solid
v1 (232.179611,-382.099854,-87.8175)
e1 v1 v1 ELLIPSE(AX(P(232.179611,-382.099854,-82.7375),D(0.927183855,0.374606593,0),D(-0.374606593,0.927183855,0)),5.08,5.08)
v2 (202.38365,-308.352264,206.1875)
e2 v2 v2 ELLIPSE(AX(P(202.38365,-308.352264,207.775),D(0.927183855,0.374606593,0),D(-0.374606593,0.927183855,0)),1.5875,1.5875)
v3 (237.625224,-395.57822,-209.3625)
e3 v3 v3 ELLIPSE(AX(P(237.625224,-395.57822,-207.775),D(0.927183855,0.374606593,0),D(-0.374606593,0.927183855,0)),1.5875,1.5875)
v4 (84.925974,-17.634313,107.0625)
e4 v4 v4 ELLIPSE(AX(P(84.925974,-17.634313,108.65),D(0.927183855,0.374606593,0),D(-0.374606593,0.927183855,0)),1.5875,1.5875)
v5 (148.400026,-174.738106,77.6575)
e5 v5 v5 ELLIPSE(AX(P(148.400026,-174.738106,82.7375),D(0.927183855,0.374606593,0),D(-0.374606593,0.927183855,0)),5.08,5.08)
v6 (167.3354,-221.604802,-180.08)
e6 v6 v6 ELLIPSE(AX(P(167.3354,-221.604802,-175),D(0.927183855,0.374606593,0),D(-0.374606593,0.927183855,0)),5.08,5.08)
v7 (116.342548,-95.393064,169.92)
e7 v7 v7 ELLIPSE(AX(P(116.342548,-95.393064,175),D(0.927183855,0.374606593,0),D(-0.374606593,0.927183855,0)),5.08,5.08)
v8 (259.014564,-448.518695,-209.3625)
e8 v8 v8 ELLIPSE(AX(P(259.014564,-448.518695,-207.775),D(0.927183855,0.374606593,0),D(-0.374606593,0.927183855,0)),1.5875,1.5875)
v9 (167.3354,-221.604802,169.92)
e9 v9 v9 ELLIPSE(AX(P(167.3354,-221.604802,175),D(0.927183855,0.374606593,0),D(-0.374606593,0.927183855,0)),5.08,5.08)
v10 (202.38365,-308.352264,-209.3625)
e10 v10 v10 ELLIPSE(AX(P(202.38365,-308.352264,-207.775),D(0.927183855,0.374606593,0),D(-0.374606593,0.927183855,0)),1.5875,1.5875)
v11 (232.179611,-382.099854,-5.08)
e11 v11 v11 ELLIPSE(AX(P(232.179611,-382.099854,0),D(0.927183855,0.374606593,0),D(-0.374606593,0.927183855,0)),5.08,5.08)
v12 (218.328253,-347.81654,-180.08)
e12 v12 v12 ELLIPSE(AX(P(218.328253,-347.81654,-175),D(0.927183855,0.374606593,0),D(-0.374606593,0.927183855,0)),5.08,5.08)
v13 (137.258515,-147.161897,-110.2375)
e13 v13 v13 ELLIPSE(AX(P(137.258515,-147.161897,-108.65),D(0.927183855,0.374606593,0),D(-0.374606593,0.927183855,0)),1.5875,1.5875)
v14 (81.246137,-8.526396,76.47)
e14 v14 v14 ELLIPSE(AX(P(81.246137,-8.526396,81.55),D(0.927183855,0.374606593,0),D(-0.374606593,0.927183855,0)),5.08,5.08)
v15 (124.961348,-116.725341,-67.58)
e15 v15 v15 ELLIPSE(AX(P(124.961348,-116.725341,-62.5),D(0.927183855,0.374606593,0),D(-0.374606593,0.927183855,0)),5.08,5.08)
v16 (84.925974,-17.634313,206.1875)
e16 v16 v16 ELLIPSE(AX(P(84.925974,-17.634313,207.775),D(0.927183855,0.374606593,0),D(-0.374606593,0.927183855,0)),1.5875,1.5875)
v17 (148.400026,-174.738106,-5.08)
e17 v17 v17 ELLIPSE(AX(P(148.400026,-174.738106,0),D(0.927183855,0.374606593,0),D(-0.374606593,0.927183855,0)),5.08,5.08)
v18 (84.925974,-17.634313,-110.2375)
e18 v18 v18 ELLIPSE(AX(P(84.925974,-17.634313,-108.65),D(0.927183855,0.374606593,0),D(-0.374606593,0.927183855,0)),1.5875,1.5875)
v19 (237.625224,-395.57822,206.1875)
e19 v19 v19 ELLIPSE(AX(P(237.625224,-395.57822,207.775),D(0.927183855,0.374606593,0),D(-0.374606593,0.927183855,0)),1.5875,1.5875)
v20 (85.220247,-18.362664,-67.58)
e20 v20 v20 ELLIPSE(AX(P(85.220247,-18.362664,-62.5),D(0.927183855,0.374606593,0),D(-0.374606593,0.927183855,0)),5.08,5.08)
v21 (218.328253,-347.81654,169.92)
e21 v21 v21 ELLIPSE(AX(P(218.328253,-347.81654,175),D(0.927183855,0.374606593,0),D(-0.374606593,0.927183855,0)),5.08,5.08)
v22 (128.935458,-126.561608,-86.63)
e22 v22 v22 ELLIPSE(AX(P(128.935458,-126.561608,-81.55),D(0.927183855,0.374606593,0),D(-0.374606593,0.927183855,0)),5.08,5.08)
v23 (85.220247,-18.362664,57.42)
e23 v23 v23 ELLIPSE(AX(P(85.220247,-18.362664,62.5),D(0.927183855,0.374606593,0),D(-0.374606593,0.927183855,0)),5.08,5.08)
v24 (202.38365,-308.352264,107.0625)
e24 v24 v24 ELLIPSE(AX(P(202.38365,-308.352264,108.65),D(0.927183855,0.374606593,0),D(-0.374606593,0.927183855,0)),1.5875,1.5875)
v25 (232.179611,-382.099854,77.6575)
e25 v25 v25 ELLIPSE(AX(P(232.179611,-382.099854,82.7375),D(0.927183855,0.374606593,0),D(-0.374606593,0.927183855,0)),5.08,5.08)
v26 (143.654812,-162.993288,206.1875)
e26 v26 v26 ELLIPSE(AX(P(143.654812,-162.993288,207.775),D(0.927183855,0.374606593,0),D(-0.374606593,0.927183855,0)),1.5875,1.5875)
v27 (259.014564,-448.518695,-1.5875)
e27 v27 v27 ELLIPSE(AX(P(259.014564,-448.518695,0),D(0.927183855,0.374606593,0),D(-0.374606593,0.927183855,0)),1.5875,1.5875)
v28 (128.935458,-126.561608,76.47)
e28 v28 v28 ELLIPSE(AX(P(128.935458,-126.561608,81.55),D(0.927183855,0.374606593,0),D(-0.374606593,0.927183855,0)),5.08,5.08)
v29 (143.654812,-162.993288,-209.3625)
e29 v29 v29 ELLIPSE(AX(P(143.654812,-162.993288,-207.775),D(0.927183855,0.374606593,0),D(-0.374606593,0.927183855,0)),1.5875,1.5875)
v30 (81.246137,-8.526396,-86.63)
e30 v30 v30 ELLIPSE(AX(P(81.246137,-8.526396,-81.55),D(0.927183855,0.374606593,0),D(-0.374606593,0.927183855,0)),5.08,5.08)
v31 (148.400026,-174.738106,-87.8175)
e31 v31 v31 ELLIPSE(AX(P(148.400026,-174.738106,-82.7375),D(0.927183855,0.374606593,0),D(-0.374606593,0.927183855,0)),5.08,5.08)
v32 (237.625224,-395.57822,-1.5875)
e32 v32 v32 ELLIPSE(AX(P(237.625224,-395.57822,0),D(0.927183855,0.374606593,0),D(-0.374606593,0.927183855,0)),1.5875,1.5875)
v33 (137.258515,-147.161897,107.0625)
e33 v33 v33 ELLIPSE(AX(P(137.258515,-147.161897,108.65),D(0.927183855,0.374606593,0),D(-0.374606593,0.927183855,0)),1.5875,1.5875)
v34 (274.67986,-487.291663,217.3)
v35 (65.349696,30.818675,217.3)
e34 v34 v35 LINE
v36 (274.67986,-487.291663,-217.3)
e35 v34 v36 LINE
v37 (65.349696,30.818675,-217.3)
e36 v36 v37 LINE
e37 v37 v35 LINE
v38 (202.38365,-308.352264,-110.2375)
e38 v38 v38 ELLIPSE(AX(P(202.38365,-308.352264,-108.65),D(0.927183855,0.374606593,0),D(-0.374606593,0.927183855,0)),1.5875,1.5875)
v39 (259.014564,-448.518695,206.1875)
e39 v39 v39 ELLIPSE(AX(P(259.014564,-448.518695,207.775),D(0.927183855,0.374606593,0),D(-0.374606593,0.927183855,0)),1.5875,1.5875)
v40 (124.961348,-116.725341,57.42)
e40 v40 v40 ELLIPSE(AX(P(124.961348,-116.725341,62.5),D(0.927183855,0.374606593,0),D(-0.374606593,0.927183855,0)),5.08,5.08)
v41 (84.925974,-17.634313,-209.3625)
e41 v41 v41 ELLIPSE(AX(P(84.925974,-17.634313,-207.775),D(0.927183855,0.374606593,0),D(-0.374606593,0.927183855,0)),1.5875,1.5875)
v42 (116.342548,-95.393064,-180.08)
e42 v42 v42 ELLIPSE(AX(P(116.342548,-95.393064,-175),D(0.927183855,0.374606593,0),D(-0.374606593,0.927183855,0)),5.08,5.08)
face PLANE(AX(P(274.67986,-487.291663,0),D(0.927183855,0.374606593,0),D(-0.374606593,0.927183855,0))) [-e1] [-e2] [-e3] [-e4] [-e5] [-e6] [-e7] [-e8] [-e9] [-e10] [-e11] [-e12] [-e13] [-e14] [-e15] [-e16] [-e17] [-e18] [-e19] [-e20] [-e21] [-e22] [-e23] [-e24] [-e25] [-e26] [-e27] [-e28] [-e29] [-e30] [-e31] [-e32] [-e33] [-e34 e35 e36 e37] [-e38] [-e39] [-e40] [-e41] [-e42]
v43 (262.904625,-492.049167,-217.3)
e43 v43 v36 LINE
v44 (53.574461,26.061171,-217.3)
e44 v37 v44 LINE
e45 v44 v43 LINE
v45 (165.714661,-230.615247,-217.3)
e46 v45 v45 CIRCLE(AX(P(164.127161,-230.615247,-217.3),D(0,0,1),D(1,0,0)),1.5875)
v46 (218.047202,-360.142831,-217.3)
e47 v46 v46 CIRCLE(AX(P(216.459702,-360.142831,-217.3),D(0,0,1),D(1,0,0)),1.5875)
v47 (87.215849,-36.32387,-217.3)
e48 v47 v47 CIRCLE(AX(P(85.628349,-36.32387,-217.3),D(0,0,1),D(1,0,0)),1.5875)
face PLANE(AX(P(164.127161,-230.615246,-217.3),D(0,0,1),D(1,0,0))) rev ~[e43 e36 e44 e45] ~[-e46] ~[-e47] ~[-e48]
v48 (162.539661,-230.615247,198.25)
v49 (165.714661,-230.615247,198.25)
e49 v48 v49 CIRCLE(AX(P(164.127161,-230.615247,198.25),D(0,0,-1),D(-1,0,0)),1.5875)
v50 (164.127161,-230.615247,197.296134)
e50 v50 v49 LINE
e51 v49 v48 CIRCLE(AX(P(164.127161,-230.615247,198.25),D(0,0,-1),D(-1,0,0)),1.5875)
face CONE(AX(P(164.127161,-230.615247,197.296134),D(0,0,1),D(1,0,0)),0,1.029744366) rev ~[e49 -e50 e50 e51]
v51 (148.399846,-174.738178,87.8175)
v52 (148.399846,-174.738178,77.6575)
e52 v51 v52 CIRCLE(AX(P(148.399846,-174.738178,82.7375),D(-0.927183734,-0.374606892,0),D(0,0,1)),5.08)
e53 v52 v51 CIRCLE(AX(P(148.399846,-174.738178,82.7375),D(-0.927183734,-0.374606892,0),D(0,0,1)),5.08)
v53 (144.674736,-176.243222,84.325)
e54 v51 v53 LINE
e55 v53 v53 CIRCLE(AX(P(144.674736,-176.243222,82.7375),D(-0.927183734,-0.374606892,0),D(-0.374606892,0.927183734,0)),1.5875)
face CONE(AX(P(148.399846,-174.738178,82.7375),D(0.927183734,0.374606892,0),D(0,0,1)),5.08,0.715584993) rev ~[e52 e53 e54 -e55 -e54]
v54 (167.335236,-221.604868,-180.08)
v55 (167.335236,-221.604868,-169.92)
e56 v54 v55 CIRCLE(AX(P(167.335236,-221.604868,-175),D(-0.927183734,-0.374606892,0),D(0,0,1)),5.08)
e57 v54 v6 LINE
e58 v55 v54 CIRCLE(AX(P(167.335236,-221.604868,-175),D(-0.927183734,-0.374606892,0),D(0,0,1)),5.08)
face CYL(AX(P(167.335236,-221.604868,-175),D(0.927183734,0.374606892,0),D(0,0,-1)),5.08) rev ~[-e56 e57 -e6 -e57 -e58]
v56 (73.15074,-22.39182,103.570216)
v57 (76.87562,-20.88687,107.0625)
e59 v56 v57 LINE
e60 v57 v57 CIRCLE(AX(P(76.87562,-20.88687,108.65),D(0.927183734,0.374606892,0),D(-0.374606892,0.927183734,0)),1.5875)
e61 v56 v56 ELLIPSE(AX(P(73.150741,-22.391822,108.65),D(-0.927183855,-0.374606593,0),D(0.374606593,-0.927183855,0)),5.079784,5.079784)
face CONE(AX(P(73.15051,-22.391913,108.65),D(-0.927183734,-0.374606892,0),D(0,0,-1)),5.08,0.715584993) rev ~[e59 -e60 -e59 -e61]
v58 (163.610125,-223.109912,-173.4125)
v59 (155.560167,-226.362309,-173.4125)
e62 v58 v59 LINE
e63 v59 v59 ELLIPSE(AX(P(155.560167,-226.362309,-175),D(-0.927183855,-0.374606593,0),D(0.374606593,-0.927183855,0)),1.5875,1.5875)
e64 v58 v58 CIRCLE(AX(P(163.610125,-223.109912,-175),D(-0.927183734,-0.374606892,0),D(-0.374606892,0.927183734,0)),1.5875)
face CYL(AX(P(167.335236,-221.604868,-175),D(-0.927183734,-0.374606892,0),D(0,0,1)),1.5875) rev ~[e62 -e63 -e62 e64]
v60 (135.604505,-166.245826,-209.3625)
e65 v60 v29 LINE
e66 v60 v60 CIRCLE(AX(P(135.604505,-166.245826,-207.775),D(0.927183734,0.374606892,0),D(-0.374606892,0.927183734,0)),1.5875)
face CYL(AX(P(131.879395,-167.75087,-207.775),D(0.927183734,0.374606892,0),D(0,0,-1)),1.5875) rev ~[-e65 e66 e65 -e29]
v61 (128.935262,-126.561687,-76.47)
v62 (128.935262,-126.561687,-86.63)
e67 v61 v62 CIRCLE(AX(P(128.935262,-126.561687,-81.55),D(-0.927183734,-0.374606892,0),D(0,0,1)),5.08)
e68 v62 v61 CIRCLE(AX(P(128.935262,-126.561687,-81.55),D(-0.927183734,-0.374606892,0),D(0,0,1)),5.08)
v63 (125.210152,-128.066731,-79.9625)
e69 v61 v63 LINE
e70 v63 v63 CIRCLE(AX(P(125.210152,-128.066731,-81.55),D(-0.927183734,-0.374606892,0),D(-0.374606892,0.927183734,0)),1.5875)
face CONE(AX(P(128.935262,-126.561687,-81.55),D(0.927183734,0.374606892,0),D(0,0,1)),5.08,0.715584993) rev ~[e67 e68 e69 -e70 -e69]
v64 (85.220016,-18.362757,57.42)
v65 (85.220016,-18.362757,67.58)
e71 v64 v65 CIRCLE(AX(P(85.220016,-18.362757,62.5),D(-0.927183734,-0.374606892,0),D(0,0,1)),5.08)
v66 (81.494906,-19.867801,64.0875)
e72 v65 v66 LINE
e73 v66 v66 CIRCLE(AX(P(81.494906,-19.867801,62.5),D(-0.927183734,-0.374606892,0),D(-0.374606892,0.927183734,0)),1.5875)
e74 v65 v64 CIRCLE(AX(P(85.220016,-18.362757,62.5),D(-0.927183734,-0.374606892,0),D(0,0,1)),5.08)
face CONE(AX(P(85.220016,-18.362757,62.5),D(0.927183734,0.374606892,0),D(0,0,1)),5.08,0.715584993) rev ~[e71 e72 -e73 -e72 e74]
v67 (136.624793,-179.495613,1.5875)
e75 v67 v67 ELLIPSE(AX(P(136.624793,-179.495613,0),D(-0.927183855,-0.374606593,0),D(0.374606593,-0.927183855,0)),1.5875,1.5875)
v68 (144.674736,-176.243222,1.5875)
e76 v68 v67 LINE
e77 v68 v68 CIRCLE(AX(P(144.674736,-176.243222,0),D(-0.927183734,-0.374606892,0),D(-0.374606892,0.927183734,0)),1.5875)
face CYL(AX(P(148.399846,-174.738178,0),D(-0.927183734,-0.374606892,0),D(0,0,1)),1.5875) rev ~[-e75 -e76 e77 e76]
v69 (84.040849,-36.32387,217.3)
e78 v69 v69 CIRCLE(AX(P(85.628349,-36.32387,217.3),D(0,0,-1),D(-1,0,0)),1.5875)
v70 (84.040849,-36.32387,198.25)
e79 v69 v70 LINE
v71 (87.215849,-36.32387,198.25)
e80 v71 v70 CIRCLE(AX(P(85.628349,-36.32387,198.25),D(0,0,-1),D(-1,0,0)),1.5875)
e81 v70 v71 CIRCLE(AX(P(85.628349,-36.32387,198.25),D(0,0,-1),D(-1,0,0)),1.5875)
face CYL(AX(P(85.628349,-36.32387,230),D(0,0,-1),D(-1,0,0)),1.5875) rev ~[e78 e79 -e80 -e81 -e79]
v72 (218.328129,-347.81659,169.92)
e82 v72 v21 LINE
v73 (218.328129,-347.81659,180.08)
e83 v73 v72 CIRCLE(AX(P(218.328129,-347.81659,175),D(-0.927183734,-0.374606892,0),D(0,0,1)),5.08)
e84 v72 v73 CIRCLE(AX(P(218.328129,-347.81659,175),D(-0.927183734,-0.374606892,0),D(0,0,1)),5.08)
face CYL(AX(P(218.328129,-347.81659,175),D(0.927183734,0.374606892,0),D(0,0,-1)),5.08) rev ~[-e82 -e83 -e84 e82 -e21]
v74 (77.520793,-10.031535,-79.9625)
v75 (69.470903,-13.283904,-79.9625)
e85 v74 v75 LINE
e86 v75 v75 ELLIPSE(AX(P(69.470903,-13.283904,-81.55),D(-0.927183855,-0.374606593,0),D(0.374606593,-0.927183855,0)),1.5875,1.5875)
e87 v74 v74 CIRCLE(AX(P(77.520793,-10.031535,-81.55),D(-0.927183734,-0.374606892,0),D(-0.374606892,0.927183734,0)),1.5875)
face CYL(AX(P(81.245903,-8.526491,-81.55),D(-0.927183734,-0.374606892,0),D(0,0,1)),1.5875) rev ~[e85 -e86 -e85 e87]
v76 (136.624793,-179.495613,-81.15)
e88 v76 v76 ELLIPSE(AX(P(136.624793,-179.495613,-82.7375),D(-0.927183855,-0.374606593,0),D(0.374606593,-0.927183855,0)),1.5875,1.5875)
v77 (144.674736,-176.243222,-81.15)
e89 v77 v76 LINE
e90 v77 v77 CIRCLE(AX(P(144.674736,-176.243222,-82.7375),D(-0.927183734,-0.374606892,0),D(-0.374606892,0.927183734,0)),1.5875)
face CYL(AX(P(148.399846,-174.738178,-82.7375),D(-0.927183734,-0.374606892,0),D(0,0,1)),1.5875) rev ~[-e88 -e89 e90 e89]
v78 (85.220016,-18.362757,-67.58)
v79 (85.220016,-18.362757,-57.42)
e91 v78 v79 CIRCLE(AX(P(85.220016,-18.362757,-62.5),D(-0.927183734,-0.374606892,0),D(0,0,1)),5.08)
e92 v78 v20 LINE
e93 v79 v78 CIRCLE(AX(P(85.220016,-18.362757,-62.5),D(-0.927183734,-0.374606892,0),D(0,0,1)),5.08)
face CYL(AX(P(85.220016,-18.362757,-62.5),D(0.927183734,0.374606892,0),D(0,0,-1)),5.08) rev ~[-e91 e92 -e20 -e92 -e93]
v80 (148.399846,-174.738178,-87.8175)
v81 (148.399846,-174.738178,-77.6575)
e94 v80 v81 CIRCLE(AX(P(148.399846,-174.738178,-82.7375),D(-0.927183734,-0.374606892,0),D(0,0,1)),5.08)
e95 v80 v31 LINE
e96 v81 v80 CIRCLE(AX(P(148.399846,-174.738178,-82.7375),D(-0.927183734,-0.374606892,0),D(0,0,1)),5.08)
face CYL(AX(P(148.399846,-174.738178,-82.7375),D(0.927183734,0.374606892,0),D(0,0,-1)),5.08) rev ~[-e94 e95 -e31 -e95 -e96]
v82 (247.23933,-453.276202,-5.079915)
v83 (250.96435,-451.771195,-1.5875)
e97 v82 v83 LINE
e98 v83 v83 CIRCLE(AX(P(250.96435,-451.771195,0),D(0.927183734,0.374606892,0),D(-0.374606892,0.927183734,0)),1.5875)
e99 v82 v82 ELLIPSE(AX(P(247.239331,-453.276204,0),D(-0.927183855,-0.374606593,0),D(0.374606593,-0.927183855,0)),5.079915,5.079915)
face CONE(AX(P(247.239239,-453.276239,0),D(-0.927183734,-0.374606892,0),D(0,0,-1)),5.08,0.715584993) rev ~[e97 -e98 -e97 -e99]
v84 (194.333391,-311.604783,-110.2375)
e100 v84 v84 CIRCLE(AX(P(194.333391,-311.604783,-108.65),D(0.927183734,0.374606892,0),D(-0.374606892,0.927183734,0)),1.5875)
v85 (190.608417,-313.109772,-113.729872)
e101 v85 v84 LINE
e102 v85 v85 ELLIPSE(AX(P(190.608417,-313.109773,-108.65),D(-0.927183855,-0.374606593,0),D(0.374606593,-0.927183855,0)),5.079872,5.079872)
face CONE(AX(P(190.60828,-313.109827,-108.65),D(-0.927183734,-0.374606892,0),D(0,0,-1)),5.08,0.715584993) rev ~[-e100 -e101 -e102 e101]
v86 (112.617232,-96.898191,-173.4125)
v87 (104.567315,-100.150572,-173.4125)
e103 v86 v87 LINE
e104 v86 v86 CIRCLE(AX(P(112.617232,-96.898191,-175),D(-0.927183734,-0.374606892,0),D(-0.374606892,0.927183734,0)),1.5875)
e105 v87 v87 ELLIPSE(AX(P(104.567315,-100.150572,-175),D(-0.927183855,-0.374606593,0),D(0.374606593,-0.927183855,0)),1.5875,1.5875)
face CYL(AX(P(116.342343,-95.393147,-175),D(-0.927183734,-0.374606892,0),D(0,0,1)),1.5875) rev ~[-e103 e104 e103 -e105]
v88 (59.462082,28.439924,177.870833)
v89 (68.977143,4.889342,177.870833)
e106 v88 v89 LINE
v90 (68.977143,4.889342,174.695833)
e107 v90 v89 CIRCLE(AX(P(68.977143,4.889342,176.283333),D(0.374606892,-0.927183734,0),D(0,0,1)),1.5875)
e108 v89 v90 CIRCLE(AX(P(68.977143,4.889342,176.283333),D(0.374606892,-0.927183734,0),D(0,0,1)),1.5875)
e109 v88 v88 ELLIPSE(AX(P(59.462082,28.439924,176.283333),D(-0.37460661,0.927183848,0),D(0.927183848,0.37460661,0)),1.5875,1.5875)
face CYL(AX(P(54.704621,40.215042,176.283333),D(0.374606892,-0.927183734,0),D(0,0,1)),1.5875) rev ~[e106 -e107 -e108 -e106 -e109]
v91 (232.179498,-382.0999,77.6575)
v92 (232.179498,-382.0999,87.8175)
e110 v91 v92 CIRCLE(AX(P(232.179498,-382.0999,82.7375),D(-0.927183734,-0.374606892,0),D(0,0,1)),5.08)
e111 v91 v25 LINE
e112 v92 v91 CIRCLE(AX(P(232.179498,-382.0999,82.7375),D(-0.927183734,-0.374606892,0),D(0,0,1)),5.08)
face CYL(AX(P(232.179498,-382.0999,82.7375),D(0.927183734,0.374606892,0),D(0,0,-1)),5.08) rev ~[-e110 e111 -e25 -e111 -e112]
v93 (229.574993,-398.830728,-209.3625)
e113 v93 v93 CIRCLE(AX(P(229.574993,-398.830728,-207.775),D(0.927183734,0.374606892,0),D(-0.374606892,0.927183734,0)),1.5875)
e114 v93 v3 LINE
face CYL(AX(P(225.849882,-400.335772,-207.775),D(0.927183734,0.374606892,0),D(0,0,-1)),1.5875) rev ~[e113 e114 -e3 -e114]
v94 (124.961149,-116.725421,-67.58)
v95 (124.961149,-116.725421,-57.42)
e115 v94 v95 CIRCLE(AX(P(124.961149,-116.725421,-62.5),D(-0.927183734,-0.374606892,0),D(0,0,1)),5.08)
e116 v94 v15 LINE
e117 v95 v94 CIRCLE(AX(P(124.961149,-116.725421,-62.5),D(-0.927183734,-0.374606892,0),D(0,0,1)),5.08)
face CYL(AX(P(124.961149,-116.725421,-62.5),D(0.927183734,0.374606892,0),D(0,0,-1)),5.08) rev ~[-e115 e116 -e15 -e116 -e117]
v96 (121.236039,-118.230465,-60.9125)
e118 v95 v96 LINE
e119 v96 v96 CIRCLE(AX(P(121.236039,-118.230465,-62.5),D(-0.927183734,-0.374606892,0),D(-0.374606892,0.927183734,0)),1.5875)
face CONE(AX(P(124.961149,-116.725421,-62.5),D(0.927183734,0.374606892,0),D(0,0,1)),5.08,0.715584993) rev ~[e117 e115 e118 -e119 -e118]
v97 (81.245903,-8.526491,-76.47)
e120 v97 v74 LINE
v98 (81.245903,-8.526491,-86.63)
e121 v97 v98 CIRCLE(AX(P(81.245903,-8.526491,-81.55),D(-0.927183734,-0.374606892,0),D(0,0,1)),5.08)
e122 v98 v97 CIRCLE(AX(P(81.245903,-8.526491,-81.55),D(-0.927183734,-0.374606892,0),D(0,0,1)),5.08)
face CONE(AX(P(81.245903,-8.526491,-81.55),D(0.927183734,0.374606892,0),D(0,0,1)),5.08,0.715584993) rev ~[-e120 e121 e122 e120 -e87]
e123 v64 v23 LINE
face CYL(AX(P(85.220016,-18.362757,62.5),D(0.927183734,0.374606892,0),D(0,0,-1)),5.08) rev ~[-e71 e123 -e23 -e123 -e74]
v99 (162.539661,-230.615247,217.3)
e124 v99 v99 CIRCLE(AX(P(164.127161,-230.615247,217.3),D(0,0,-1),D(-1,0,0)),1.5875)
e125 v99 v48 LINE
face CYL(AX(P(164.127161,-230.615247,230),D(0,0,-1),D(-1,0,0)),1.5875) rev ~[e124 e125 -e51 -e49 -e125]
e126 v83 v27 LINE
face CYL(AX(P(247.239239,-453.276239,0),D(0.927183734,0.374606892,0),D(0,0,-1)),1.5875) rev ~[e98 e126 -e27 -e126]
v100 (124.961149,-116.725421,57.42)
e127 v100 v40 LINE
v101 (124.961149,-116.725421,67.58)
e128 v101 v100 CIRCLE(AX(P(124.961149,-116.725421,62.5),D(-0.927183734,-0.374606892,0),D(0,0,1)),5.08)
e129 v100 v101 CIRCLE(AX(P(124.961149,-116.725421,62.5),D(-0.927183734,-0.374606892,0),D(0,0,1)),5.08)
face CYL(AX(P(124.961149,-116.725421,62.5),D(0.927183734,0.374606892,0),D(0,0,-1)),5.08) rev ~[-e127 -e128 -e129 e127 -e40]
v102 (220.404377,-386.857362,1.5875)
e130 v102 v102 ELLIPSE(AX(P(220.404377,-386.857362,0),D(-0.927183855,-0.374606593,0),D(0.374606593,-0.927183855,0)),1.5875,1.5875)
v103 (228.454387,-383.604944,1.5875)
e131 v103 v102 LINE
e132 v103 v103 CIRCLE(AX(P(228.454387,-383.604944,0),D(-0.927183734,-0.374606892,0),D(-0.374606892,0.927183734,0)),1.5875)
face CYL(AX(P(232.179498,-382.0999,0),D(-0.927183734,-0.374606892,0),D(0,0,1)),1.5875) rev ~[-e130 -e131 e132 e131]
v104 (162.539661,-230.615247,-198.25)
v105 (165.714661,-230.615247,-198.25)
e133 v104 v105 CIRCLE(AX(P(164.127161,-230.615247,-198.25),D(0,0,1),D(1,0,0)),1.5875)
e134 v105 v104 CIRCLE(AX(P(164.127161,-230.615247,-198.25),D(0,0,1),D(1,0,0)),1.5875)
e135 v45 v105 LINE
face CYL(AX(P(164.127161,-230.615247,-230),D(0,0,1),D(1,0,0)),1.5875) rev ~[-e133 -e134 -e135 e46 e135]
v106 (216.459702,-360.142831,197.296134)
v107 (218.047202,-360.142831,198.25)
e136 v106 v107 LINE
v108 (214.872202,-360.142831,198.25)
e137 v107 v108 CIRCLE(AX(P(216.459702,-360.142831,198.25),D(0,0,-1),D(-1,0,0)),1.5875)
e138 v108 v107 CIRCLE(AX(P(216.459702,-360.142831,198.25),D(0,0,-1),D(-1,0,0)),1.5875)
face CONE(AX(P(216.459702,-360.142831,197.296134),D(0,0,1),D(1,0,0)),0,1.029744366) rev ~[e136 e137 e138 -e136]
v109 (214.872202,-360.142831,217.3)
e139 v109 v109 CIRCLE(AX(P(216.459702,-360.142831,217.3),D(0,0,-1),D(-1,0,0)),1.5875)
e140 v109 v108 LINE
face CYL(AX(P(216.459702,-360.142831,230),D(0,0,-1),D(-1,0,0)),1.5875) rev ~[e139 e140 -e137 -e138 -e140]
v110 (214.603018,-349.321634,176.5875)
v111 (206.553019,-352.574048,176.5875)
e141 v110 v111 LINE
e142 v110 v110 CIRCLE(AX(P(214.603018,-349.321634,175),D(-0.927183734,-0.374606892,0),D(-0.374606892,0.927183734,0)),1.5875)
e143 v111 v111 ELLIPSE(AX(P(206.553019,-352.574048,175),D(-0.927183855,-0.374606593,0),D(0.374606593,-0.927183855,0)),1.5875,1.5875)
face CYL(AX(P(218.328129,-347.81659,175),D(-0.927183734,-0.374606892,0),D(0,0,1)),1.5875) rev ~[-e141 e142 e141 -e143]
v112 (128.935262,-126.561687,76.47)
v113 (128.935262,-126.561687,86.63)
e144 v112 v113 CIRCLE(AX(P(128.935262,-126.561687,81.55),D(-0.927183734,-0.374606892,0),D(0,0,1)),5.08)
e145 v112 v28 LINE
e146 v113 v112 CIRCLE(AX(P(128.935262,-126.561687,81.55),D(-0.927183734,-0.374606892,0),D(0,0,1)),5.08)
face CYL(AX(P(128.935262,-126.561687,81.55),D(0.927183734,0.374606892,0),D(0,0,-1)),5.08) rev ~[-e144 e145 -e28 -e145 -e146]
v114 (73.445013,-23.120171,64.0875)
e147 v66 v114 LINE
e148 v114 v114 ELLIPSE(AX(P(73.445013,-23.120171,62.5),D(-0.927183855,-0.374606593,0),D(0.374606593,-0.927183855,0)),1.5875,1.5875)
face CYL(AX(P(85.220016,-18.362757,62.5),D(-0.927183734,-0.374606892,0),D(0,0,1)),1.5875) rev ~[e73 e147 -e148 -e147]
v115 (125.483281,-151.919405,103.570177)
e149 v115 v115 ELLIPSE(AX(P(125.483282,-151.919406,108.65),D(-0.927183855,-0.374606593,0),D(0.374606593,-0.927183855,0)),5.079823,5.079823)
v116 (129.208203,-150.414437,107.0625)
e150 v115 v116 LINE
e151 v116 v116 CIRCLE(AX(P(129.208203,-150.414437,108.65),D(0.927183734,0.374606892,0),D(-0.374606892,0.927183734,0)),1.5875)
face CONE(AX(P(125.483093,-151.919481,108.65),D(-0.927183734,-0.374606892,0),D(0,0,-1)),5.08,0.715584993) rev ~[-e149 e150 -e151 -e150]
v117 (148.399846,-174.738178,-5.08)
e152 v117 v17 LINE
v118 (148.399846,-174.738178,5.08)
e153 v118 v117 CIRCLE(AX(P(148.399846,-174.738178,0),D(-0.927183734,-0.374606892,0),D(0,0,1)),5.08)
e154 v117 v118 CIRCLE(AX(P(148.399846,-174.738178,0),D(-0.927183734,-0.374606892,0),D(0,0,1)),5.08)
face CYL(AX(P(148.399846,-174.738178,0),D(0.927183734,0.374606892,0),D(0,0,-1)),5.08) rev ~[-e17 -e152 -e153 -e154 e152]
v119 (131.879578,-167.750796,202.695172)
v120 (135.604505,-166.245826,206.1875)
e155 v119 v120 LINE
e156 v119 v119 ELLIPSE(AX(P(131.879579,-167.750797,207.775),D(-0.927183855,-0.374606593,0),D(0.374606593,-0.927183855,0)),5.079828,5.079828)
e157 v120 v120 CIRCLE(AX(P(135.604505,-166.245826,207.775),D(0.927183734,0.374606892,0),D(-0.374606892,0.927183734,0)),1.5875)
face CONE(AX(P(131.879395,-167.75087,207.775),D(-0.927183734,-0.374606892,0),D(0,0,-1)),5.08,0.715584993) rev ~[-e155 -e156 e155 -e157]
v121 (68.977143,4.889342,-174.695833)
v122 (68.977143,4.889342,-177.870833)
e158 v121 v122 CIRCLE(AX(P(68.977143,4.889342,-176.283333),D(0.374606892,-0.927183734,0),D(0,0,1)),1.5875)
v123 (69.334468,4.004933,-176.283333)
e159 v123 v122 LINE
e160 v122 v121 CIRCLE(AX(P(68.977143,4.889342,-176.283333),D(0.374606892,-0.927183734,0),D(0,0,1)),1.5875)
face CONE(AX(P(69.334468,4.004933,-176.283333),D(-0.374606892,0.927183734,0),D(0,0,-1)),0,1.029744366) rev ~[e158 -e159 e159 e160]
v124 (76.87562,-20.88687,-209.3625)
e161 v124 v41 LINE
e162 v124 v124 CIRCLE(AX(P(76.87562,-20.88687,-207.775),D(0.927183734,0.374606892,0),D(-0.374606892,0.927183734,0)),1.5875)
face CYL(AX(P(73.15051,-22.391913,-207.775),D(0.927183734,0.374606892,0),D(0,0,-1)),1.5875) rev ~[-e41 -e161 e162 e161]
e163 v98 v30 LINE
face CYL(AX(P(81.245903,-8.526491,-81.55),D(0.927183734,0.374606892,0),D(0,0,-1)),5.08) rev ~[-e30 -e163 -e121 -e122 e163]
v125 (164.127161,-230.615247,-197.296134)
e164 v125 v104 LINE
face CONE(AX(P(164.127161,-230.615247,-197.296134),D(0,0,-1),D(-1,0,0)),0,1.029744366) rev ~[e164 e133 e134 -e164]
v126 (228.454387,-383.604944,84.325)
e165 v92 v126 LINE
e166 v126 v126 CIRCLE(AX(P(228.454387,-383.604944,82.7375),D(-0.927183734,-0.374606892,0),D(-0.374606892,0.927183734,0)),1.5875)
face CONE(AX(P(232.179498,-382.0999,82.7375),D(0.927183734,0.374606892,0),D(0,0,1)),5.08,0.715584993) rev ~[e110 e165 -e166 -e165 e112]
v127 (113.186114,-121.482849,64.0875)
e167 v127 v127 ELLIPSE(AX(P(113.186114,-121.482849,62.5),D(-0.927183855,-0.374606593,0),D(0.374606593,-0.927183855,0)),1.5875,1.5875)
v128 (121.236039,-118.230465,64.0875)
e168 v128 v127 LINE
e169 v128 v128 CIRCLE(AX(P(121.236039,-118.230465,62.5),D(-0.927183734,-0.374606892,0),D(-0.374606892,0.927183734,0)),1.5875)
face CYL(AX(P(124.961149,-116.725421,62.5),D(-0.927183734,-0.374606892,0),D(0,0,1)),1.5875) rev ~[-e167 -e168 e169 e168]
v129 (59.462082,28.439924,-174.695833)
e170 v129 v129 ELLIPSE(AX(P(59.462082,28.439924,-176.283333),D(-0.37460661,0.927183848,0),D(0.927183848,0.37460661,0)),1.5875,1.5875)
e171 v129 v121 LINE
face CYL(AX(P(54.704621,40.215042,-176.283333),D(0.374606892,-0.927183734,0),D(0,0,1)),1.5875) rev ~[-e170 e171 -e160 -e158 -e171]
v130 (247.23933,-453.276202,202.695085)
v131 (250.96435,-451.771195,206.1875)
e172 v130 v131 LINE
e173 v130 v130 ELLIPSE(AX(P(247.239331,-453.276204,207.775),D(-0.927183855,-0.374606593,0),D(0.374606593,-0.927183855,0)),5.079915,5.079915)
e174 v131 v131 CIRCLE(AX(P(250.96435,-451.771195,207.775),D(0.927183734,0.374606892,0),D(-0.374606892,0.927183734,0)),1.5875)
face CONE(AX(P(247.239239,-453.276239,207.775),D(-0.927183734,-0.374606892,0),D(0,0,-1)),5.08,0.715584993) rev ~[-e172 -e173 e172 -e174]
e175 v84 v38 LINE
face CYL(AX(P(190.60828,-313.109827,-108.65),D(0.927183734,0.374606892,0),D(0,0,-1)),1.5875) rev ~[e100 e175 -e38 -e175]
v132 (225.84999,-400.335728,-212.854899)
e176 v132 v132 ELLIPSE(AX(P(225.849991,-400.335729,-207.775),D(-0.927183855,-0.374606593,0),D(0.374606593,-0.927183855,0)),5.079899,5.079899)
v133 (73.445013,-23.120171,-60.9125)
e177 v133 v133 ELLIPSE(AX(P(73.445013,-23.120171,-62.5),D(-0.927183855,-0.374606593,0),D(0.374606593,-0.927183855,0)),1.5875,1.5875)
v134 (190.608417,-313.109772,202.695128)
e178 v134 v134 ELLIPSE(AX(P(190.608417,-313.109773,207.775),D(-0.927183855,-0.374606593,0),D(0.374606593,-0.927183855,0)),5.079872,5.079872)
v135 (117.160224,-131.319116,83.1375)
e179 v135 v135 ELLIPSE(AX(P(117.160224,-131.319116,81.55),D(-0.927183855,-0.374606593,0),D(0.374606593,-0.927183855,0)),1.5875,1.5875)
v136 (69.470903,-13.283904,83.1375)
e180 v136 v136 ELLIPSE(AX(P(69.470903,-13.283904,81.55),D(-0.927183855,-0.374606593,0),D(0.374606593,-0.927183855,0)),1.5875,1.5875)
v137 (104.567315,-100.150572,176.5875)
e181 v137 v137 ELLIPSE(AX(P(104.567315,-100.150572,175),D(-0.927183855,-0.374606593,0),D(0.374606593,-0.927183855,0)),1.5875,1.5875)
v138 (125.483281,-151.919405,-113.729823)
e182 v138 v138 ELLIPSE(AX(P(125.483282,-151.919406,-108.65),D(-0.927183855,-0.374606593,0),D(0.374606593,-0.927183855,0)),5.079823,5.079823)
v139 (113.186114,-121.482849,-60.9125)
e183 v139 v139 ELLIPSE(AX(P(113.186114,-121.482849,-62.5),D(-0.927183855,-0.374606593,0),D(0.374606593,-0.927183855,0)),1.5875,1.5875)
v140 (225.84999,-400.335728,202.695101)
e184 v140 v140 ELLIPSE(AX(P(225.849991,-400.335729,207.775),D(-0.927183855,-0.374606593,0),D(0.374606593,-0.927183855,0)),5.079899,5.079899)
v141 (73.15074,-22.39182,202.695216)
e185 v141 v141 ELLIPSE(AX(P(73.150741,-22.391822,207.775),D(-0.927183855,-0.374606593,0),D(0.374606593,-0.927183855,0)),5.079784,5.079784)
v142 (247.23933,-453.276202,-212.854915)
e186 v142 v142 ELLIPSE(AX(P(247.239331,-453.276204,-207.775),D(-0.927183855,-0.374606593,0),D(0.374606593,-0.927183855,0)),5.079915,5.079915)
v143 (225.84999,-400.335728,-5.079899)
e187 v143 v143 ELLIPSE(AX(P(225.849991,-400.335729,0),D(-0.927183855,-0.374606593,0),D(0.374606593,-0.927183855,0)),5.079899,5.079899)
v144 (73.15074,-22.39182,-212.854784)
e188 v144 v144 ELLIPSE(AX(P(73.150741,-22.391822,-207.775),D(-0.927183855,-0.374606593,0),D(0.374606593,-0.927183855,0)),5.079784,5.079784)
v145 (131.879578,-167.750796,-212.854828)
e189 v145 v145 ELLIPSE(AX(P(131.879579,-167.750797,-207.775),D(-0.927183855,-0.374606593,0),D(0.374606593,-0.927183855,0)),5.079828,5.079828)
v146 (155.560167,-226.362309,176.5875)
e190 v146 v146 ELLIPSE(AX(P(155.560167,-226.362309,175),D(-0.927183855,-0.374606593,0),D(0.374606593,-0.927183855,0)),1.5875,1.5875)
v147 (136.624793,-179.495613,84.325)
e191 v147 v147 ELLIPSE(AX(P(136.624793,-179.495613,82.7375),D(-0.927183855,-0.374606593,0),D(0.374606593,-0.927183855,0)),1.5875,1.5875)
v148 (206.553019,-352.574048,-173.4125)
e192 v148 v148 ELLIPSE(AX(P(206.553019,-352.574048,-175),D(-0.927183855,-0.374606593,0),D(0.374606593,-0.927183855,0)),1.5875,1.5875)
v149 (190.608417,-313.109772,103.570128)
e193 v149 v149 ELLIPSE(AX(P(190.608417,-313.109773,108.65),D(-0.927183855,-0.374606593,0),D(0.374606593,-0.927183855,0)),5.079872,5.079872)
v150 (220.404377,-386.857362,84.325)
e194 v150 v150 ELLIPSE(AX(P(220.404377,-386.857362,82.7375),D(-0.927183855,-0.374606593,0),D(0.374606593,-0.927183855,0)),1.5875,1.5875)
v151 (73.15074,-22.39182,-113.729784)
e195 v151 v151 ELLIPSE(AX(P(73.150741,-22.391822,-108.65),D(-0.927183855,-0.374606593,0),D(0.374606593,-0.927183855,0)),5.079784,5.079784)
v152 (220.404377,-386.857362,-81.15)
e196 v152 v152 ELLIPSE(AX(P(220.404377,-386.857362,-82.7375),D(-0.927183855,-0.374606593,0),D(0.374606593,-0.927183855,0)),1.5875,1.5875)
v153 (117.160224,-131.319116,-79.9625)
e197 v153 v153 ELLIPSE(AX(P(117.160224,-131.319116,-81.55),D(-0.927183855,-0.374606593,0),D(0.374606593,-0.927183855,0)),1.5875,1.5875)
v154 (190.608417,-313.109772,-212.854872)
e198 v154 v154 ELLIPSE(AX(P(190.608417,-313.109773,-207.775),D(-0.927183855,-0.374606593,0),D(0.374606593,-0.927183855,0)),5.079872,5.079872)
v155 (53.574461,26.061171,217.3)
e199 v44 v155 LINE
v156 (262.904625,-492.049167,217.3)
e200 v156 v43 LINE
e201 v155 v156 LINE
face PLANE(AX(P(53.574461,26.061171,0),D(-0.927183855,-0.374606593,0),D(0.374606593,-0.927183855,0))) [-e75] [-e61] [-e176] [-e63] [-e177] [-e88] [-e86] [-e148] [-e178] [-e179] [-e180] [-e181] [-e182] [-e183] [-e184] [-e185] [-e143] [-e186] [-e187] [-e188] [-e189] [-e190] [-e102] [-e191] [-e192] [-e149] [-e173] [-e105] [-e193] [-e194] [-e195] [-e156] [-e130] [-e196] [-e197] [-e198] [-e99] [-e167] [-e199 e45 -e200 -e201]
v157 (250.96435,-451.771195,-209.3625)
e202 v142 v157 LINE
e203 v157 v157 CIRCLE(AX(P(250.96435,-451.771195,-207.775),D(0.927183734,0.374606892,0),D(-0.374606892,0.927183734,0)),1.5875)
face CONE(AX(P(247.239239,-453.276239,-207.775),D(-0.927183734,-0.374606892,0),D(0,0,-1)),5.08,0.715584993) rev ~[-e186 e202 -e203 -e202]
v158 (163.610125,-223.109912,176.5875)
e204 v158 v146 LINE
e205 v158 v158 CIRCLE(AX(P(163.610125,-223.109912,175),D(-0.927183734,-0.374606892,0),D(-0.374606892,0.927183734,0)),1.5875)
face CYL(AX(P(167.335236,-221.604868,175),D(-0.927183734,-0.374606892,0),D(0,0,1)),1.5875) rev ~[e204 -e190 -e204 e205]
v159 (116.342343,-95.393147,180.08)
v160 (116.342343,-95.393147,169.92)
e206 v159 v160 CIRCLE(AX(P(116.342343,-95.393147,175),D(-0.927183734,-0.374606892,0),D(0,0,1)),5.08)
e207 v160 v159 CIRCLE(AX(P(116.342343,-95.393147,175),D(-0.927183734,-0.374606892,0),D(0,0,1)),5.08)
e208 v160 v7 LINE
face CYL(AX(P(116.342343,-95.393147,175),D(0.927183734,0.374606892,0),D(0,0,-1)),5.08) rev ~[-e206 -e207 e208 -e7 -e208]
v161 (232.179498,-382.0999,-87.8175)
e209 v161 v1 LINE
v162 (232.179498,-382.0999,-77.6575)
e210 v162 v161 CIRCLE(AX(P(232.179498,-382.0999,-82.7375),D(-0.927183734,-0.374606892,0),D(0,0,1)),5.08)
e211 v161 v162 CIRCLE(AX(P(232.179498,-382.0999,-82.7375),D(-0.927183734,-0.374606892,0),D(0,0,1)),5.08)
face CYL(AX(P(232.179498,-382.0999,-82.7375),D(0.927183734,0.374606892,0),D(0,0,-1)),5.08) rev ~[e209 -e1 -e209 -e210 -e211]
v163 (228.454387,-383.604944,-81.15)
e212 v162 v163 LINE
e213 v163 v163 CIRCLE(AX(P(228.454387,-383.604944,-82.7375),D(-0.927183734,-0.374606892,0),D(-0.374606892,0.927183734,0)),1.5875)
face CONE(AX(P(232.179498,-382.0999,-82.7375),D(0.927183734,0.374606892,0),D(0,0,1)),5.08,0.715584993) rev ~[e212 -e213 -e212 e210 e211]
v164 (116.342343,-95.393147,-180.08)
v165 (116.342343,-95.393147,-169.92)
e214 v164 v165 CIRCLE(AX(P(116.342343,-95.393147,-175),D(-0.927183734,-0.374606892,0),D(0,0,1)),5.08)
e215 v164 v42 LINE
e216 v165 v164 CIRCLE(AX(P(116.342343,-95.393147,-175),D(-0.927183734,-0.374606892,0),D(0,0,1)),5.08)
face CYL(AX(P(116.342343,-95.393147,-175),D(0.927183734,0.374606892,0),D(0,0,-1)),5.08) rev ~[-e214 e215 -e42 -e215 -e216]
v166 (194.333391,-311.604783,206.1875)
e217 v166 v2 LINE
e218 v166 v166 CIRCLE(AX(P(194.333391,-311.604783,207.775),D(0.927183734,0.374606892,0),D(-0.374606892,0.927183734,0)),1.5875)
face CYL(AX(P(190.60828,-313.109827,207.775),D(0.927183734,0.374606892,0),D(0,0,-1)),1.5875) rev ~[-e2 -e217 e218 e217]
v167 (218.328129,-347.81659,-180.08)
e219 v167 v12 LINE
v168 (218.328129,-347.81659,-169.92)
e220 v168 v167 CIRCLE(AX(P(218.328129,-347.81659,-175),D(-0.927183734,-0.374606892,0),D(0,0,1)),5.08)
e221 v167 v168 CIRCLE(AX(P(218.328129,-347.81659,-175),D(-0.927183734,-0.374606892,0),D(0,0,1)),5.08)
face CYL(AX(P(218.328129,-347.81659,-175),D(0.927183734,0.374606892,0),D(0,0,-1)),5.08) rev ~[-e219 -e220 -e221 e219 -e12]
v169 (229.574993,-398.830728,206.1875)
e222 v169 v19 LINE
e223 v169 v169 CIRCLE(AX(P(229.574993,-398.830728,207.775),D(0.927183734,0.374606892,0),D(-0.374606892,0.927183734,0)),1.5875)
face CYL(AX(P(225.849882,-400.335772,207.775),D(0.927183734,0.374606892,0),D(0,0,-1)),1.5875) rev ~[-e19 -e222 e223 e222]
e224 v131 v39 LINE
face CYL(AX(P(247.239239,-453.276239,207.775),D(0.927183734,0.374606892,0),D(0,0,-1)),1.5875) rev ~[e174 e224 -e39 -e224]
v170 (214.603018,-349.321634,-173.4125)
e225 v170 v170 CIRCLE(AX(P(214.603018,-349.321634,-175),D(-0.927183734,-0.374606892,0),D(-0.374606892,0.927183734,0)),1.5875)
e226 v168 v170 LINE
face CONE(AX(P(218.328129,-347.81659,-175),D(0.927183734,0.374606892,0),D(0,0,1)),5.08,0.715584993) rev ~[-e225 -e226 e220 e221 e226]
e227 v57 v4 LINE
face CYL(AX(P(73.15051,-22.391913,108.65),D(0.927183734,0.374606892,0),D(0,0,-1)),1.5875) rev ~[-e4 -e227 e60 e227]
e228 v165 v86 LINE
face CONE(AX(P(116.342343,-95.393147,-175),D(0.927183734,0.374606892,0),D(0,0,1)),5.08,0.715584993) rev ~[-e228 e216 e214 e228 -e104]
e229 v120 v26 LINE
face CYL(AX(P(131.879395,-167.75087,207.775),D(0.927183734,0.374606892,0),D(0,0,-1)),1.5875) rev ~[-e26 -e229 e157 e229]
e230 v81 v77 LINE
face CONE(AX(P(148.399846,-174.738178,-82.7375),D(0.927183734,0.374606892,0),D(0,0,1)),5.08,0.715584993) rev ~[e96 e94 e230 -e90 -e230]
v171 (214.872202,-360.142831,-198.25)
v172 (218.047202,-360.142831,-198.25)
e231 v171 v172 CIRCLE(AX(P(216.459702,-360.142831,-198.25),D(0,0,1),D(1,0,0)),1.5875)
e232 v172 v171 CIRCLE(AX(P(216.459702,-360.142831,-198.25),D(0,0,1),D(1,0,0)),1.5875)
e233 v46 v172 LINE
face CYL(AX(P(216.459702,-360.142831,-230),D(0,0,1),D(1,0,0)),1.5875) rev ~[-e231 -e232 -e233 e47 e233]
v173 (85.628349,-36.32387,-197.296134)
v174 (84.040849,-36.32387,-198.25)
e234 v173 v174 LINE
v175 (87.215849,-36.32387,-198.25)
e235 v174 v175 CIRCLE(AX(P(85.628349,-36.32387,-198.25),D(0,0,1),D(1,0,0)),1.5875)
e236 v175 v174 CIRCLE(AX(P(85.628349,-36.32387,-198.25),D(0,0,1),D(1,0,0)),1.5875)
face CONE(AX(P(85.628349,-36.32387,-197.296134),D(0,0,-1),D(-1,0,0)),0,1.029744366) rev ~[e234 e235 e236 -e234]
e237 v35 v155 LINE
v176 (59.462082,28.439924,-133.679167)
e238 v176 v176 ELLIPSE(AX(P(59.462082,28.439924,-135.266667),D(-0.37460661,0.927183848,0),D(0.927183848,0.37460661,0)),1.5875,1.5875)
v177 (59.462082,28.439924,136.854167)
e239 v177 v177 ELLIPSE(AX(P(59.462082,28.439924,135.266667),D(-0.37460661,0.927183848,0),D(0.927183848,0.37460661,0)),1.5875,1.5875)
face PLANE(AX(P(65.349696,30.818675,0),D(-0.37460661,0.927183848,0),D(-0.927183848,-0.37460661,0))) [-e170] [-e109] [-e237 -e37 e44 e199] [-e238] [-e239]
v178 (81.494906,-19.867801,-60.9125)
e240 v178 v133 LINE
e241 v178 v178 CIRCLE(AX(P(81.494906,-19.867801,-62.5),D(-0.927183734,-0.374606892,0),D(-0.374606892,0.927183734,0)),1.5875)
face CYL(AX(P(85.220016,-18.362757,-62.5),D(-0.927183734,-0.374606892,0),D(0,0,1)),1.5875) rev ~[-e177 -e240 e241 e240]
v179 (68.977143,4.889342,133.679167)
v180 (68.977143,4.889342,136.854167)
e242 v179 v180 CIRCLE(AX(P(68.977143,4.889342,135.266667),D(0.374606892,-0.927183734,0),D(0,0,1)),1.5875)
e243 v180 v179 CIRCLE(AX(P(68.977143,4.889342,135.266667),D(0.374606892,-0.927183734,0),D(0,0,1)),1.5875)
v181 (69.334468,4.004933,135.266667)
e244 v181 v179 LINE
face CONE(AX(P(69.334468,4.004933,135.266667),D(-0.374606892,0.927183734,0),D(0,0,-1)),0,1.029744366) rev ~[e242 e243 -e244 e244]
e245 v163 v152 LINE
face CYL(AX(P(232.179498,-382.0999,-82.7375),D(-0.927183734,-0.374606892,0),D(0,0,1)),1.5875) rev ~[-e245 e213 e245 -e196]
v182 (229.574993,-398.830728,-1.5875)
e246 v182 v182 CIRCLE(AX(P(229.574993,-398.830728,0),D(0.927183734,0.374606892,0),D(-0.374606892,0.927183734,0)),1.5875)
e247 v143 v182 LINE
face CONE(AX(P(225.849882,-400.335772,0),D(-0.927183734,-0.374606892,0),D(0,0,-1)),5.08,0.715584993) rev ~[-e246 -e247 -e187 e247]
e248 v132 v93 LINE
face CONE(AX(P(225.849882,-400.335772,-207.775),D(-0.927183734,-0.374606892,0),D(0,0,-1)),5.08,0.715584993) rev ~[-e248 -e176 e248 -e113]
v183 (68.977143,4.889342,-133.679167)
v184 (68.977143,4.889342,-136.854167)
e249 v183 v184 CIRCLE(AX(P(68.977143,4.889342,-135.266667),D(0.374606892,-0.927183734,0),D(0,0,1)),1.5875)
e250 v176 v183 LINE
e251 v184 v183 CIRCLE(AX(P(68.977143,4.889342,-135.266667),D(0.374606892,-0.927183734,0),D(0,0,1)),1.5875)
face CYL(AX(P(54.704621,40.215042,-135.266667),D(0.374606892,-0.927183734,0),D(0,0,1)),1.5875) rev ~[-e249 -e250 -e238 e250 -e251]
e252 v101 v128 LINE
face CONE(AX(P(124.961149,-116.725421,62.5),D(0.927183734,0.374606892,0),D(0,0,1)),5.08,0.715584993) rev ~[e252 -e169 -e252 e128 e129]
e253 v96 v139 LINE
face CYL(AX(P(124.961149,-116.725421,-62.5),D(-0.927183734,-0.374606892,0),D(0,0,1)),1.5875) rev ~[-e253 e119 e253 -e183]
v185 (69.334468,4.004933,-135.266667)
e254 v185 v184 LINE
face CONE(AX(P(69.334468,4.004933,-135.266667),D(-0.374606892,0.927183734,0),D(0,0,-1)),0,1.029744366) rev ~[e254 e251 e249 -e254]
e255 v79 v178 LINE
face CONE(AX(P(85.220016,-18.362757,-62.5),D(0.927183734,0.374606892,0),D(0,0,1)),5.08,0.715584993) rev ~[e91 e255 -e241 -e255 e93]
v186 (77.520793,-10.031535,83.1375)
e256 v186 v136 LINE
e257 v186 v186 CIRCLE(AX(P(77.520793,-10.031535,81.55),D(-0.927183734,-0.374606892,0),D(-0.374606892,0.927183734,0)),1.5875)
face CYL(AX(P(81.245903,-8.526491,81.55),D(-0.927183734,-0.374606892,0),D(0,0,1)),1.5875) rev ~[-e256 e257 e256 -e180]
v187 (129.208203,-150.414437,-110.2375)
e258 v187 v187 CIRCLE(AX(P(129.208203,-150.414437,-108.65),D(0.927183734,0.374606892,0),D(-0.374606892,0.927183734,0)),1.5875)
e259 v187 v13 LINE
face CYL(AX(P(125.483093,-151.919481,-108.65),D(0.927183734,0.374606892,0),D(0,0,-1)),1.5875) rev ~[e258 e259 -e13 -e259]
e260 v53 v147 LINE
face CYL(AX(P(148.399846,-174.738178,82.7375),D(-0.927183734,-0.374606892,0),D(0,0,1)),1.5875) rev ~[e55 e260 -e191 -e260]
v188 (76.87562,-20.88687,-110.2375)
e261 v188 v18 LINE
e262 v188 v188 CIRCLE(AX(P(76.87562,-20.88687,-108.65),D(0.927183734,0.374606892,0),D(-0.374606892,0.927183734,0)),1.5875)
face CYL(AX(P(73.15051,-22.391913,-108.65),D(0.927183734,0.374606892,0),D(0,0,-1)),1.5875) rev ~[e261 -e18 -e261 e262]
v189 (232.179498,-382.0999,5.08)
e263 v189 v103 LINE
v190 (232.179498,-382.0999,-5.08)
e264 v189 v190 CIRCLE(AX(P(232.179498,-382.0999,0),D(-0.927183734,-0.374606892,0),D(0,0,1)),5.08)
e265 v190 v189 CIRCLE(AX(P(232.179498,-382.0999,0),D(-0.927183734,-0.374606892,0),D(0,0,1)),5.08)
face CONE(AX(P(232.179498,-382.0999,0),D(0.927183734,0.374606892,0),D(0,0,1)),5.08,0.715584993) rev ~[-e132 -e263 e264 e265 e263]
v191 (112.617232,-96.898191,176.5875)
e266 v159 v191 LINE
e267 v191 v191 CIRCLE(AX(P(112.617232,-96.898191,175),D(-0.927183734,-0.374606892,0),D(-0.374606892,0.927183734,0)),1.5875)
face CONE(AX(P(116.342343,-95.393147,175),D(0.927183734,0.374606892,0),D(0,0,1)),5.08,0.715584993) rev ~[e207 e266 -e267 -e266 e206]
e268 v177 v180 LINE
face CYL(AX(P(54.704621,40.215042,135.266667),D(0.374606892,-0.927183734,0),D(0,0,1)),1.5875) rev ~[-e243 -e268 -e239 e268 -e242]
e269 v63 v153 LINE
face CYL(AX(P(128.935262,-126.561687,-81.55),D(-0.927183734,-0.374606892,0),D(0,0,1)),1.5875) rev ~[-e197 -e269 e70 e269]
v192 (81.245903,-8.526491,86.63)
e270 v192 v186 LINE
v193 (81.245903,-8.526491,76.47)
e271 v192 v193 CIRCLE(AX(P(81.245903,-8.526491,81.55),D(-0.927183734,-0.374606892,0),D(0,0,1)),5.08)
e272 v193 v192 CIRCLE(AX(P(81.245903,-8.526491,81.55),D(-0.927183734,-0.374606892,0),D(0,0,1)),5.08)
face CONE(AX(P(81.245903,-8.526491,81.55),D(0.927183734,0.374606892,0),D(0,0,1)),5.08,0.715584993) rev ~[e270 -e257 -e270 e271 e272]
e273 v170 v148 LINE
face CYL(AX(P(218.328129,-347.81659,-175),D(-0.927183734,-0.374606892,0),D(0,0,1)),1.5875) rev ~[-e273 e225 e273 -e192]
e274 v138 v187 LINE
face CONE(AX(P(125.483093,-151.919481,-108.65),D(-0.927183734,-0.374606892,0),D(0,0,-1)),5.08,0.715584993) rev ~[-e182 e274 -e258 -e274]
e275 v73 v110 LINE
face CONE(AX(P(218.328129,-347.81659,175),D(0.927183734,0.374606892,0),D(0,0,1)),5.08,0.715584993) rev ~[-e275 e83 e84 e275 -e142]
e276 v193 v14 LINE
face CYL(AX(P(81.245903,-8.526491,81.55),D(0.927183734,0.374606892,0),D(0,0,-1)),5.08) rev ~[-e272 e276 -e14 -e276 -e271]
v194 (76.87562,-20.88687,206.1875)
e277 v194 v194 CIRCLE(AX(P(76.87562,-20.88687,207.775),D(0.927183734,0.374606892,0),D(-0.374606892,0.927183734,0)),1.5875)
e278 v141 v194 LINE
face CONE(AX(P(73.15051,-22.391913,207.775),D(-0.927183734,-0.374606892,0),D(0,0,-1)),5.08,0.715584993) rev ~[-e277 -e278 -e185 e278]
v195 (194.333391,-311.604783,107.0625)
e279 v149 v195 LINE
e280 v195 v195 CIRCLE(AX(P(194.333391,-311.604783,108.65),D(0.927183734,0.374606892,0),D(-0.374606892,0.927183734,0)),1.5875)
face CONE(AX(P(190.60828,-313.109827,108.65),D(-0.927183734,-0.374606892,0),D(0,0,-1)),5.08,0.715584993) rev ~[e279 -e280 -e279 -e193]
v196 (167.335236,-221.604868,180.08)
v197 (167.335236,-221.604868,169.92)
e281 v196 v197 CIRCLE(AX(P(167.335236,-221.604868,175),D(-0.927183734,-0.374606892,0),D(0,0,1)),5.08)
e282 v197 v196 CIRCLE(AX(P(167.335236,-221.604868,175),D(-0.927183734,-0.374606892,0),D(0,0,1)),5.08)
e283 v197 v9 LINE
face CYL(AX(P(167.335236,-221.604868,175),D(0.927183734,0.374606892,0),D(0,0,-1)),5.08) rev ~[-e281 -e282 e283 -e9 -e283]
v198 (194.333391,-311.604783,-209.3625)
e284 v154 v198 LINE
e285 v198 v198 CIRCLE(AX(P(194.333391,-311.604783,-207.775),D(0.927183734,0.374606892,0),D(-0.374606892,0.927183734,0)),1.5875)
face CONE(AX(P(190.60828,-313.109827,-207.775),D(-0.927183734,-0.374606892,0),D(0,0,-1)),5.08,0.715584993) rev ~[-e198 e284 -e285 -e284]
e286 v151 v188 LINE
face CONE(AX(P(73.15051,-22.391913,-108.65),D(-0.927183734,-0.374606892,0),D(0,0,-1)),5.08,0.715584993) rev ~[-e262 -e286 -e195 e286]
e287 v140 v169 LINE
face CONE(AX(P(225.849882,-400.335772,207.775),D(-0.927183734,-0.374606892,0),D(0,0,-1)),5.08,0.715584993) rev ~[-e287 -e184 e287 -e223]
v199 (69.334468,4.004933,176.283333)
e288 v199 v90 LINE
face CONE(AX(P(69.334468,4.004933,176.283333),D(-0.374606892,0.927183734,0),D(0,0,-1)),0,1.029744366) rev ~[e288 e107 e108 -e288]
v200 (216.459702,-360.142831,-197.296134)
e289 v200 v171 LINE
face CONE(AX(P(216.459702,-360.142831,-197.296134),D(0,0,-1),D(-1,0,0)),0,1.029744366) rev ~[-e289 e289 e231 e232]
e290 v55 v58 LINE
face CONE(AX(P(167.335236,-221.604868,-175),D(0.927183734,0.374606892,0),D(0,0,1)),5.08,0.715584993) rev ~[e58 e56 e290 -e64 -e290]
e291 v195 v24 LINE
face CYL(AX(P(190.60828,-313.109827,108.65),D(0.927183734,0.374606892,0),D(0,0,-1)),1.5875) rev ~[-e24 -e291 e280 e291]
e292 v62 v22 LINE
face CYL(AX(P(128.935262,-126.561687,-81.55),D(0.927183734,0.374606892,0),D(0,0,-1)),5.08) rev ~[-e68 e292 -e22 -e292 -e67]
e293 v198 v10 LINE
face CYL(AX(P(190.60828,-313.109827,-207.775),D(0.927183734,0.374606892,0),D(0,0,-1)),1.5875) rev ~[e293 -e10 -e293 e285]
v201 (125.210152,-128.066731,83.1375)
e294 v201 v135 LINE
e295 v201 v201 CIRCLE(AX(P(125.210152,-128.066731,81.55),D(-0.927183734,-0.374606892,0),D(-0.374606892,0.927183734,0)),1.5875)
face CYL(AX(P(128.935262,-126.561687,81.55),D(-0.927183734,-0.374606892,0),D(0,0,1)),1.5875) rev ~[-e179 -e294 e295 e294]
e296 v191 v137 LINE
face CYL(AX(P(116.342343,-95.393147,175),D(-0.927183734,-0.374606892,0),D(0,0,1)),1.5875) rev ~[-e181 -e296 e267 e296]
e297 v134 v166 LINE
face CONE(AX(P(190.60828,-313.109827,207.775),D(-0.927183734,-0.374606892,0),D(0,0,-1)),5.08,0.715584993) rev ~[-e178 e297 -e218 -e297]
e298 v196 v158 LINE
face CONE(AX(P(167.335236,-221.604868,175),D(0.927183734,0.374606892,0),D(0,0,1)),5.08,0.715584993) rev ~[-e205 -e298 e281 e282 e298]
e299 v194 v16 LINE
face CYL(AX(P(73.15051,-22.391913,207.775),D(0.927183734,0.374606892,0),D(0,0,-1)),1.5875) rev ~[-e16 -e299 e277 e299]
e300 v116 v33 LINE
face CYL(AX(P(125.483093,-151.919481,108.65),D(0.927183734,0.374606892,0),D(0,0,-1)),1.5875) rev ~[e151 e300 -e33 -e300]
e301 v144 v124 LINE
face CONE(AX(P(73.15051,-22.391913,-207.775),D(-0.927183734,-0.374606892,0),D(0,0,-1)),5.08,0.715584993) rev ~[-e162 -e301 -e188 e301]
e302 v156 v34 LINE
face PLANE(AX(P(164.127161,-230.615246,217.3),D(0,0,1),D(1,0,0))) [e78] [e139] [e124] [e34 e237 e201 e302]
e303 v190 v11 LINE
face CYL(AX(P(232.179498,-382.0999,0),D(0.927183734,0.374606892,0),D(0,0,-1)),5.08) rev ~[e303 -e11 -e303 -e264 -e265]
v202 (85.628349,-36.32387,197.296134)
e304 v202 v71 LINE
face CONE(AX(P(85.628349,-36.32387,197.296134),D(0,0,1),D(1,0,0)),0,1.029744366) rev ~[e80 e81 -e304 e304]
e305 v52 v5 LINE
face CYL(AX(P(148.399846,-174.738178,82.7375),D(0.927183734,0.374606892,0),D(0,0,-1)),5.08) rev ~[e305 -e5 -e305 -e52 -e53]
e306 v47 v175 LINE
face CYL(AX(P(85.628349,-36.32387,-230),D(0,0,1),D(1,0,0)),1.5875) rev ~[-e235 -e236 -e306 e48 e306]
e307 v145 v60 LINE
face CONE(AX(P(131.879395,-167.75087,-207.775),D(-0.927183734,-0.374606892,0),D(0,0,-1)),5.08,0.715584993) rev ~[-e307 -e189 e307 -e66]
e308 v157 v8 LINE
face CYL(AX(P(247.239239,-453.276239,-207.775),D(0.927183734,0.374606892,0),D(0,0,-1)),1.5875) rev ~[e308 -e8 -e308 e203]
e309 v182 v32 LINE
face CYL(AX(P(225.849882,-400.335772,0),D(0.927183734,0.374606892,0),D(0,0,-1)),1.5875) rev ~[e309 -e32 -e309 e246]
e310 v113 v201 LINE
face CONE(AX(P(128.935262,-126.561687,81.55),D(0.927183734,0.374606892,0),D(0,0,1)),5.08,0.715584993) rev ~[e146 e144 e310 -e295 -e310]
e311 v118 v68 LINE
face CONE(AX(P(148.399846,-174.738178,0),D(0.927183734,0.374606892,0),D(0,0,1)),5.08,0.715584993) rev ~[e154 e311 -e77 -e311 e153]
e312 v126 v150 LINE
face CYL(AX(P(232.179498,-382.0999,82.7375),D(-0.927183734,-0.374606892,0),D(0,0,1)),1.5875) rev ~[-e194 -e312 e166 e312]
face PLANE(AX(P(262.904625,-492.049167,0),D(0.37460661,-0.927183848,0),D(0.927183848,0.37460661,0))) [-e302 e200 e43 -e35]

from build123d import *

# Parameters (mm, degrees)
BOSS_EXTRUDE1_DEPTH      = 217.3
BOSS_EXTRUDE1_DEPTH_BACK = 217.3
HOLE1_D                  = 3.175
HOLE1_DEPTH              = 31.75
HOLE1_CSINK_D            = 10.16
HOLE1_CSINK_ANGLE        = 82
HOLE1_TIP                = 0.953866
HOLE2_D                  = 3.175
HOLE2_DEPTH              = 31.75
HOLE2_CSINK_D            = 10.16
HOLE2_CSINK_ANGLE        = 82
HOLE2_TIP                = 0.953866
HOLE3_D                  = 3.175
HOLE3_DEPTH              = 31.75
HOLE3_CSINK_D            = 10.16
HOLE3_CSINK_ANGLE        = 82
HOLE3_TIP                = 0.953866
HOLE4_D                  = 3.175
HOLE4_DEPTH              = 31.75
HOLE4_CSINK_D            = 10.16
HOLE4_CSINK_ANGLE        = 82
HOLE4_TIP                = 0.953866
HOLE5_D                  = 3.175
HOLE5_DEPTH              = 38.1
HOLE5_CSINK_D            = 10.16
HOLE5_CSINK_ANGLE        = 82
HOLE5_TIP                = 0.953866


with BuildPart() as part:
    # Sketch1 → Boss-Extrude1 (new body, two sides)
    with BuildSketch(Plane.XY) as boss_extrude1_sk:
        Polygon((274.67986, -487.291663), (65.349696, 30.818675), (53.574461, 26.061171), (262.904625, -492.049167), align=None)
    extrude(amount=BOSS_EXTRUDE1_DEPTH)
    extrude(boss_extrude1_sk.sketch, amount=-BOSS_EXTRUDE1_DEPTH_BACK)

    # Hole1
    with Locations(Plane(origin=(361.532828, -736.162535, 0), x_dir=(0, 0, 1), z_dir=(-0.927184, -0.374607, 0))):
        with Locations((207.775, 613.051809), (-207.775, 613.051809), (-207.775, 456.277103), (-207.775, 769.826514), (-108.65, 456.277103), (-108.65, 630.126514), (-108.65, 769.826514), (-207.775, 362.200879), (-207.775, 305.102738), (0, 305.102738), (0, 362.200879), (207.775, 305.102738), (207.775, 362.200879), (108.65, 769.826514), (108.65, 630.126514), (108.65, 456.277103), (207.775, 769.826514), (207.775, 456.277103)):
            CounterSinkHole(HOLE1_D / 2, HOLE1_CSINK_D / 2, depth=HOLE1_DEPTH, counter_sink_angle=HOLE1_CSINK_ANGLE)
            with Locations((0, 0, -(HOLE1_DEPTH + HOLE1_TIP / 2))):  # 118° drill point
                Cone(0, HOLE1_D / 2, HOLE1_TIP, mode=Mode.SUBTRACT)

    # Hole2
    with Locations(Plane(origin=(723.49836, -589.918968, -230), x_dir=(-1, 0, 0), z_dir=(0, 0, -1))):
        with Locations((637.870011, 553.595098), (52.960475, 241.752641), (47.697836, 183.489834), (434.459075, 134.806235), (453.103621, 177.188748), (478.414399, 275.292666), (488.870508, 435.756795), (636.071224, 609.11142), (609.449424, 543.220155), (559.371199, 359.303721), (507.038658, 229.776137)):
            CounterSinkHole(HOLE2_D / 2, HOLE2_CSINK_D / 2, depth=HOLE2_DEPTH, counter_sink_angle=HOLE2_CSINK_ANGLE)
            with Locations((0, 0, -(HOLE2_DEPTH + HOLE2_TIP / 2))):  # 118° drill point
                Cone(0, HOLE2_D / 2, HOLE2_TIP, mode=Mode.SUBTRACT)

    # Hole3
    with Locations(Plane(origin=(723.49836, -589.918968, 230), x_dir=(1, 0, 0), z_dir=(0, 0, 1))):
        with Locations((-507.038658, 229.776137), (-559.371199, 359.303721), (-637.870011, 553.595098), (-636.071224, 609.11142), (-609.449424, 543.220155), (-488.870508, 435.756795), (-478.414399, 275.292666), (-453.103621, 177.188748), (-434.459075, 134.806235), (-52.960475, 241.752641), (-47.697836, 183.489834)):
            CounterSinkHole(HOLE3_D / 2, HOLE3_CSINK_D / 2, depth=HOLE3_DEPTH, counter_sink_angle=HOLE3_CSINK_ANGLE)
            with Locations((0, 0, -(HOLE3_DEPTH + HOLE3_TIP / 2))):  # 118° drill point
                Cone(0, HOLE3_D / 2, HOLE3_TIP, mode=Mode.SUBTRACT)

    # Hole4
    with Locations(Plane(origin=(373.308063, -731.405032, 0), x_dir=(0, 0, -1), z_dir=(0.927184, 0.374607, 0))):
        with Locations((175, 685.961004), (175, 549.83726), (175, 413.713515), (81.55, 779.649723), (81.55, 652.344646), (62.5, 662.953402), (62.5, 769.040967), (-62.5, 769.040967), (-62.5, 662.953402), (-81.55, 652.344646), (-81.55, 779.649723), (-175, 413.713515), (-175, 549.83726), (-175, 685.961004), (-82.7375, 600.38462), (0, 600.38462), (82.7375, 600.38462), (0, 376.73777), (-82.7375, 376.73777), (82.7375, 376.73777)):
            CounterSinkHole(HOLE4_D / 2, HOLE4_CSINK_D / 2, depth=HOLE4_DEPTH, counter_sink_angle=HOLE4_CSINK_ANGLE)
            with Locations((0, 0, -(HOLE4_DEPTH + HOLE4_TIP / 2))):  # 118° drill point
                Cone(0, HOLE4_D / 2, HOLE4_TIP, mode=Mode.SUBTRACT)

    # Hole5
    with Locations(Plane(origin=(410.782489, 184.079973, 0), x_dir=(0, 0, -1), z_dir=(-0.374607, 0.927184, 0))):
        with Locations((-108.65, 332.891935), (108.65, 332.891935), (207.775, 332.891935), (175, 448.336333), (135.266667, 384.042402), (176.283333, 384.042402), (-175, 448.336333), (-135.266667, 384.042402), (-176.283333, 384.042402), (-207.775, 332.891935)):
            CounterSinkHole(HOLE5_D / 2, HOLE5_CSINK_D / 2, depth=HOLE5_DEPTH, counter_sink_angle=HOLE5_CSINK_ANGLE)
            with Locations((0, 0, -(HOLE5_DEPTH + HOLE5_TIP / 2))):  # 118° drill point
                Cone(0, HOLE5_D / 2, HOLE5_TIP, mode=Mode.SUBTRACT)


solid = part.part
